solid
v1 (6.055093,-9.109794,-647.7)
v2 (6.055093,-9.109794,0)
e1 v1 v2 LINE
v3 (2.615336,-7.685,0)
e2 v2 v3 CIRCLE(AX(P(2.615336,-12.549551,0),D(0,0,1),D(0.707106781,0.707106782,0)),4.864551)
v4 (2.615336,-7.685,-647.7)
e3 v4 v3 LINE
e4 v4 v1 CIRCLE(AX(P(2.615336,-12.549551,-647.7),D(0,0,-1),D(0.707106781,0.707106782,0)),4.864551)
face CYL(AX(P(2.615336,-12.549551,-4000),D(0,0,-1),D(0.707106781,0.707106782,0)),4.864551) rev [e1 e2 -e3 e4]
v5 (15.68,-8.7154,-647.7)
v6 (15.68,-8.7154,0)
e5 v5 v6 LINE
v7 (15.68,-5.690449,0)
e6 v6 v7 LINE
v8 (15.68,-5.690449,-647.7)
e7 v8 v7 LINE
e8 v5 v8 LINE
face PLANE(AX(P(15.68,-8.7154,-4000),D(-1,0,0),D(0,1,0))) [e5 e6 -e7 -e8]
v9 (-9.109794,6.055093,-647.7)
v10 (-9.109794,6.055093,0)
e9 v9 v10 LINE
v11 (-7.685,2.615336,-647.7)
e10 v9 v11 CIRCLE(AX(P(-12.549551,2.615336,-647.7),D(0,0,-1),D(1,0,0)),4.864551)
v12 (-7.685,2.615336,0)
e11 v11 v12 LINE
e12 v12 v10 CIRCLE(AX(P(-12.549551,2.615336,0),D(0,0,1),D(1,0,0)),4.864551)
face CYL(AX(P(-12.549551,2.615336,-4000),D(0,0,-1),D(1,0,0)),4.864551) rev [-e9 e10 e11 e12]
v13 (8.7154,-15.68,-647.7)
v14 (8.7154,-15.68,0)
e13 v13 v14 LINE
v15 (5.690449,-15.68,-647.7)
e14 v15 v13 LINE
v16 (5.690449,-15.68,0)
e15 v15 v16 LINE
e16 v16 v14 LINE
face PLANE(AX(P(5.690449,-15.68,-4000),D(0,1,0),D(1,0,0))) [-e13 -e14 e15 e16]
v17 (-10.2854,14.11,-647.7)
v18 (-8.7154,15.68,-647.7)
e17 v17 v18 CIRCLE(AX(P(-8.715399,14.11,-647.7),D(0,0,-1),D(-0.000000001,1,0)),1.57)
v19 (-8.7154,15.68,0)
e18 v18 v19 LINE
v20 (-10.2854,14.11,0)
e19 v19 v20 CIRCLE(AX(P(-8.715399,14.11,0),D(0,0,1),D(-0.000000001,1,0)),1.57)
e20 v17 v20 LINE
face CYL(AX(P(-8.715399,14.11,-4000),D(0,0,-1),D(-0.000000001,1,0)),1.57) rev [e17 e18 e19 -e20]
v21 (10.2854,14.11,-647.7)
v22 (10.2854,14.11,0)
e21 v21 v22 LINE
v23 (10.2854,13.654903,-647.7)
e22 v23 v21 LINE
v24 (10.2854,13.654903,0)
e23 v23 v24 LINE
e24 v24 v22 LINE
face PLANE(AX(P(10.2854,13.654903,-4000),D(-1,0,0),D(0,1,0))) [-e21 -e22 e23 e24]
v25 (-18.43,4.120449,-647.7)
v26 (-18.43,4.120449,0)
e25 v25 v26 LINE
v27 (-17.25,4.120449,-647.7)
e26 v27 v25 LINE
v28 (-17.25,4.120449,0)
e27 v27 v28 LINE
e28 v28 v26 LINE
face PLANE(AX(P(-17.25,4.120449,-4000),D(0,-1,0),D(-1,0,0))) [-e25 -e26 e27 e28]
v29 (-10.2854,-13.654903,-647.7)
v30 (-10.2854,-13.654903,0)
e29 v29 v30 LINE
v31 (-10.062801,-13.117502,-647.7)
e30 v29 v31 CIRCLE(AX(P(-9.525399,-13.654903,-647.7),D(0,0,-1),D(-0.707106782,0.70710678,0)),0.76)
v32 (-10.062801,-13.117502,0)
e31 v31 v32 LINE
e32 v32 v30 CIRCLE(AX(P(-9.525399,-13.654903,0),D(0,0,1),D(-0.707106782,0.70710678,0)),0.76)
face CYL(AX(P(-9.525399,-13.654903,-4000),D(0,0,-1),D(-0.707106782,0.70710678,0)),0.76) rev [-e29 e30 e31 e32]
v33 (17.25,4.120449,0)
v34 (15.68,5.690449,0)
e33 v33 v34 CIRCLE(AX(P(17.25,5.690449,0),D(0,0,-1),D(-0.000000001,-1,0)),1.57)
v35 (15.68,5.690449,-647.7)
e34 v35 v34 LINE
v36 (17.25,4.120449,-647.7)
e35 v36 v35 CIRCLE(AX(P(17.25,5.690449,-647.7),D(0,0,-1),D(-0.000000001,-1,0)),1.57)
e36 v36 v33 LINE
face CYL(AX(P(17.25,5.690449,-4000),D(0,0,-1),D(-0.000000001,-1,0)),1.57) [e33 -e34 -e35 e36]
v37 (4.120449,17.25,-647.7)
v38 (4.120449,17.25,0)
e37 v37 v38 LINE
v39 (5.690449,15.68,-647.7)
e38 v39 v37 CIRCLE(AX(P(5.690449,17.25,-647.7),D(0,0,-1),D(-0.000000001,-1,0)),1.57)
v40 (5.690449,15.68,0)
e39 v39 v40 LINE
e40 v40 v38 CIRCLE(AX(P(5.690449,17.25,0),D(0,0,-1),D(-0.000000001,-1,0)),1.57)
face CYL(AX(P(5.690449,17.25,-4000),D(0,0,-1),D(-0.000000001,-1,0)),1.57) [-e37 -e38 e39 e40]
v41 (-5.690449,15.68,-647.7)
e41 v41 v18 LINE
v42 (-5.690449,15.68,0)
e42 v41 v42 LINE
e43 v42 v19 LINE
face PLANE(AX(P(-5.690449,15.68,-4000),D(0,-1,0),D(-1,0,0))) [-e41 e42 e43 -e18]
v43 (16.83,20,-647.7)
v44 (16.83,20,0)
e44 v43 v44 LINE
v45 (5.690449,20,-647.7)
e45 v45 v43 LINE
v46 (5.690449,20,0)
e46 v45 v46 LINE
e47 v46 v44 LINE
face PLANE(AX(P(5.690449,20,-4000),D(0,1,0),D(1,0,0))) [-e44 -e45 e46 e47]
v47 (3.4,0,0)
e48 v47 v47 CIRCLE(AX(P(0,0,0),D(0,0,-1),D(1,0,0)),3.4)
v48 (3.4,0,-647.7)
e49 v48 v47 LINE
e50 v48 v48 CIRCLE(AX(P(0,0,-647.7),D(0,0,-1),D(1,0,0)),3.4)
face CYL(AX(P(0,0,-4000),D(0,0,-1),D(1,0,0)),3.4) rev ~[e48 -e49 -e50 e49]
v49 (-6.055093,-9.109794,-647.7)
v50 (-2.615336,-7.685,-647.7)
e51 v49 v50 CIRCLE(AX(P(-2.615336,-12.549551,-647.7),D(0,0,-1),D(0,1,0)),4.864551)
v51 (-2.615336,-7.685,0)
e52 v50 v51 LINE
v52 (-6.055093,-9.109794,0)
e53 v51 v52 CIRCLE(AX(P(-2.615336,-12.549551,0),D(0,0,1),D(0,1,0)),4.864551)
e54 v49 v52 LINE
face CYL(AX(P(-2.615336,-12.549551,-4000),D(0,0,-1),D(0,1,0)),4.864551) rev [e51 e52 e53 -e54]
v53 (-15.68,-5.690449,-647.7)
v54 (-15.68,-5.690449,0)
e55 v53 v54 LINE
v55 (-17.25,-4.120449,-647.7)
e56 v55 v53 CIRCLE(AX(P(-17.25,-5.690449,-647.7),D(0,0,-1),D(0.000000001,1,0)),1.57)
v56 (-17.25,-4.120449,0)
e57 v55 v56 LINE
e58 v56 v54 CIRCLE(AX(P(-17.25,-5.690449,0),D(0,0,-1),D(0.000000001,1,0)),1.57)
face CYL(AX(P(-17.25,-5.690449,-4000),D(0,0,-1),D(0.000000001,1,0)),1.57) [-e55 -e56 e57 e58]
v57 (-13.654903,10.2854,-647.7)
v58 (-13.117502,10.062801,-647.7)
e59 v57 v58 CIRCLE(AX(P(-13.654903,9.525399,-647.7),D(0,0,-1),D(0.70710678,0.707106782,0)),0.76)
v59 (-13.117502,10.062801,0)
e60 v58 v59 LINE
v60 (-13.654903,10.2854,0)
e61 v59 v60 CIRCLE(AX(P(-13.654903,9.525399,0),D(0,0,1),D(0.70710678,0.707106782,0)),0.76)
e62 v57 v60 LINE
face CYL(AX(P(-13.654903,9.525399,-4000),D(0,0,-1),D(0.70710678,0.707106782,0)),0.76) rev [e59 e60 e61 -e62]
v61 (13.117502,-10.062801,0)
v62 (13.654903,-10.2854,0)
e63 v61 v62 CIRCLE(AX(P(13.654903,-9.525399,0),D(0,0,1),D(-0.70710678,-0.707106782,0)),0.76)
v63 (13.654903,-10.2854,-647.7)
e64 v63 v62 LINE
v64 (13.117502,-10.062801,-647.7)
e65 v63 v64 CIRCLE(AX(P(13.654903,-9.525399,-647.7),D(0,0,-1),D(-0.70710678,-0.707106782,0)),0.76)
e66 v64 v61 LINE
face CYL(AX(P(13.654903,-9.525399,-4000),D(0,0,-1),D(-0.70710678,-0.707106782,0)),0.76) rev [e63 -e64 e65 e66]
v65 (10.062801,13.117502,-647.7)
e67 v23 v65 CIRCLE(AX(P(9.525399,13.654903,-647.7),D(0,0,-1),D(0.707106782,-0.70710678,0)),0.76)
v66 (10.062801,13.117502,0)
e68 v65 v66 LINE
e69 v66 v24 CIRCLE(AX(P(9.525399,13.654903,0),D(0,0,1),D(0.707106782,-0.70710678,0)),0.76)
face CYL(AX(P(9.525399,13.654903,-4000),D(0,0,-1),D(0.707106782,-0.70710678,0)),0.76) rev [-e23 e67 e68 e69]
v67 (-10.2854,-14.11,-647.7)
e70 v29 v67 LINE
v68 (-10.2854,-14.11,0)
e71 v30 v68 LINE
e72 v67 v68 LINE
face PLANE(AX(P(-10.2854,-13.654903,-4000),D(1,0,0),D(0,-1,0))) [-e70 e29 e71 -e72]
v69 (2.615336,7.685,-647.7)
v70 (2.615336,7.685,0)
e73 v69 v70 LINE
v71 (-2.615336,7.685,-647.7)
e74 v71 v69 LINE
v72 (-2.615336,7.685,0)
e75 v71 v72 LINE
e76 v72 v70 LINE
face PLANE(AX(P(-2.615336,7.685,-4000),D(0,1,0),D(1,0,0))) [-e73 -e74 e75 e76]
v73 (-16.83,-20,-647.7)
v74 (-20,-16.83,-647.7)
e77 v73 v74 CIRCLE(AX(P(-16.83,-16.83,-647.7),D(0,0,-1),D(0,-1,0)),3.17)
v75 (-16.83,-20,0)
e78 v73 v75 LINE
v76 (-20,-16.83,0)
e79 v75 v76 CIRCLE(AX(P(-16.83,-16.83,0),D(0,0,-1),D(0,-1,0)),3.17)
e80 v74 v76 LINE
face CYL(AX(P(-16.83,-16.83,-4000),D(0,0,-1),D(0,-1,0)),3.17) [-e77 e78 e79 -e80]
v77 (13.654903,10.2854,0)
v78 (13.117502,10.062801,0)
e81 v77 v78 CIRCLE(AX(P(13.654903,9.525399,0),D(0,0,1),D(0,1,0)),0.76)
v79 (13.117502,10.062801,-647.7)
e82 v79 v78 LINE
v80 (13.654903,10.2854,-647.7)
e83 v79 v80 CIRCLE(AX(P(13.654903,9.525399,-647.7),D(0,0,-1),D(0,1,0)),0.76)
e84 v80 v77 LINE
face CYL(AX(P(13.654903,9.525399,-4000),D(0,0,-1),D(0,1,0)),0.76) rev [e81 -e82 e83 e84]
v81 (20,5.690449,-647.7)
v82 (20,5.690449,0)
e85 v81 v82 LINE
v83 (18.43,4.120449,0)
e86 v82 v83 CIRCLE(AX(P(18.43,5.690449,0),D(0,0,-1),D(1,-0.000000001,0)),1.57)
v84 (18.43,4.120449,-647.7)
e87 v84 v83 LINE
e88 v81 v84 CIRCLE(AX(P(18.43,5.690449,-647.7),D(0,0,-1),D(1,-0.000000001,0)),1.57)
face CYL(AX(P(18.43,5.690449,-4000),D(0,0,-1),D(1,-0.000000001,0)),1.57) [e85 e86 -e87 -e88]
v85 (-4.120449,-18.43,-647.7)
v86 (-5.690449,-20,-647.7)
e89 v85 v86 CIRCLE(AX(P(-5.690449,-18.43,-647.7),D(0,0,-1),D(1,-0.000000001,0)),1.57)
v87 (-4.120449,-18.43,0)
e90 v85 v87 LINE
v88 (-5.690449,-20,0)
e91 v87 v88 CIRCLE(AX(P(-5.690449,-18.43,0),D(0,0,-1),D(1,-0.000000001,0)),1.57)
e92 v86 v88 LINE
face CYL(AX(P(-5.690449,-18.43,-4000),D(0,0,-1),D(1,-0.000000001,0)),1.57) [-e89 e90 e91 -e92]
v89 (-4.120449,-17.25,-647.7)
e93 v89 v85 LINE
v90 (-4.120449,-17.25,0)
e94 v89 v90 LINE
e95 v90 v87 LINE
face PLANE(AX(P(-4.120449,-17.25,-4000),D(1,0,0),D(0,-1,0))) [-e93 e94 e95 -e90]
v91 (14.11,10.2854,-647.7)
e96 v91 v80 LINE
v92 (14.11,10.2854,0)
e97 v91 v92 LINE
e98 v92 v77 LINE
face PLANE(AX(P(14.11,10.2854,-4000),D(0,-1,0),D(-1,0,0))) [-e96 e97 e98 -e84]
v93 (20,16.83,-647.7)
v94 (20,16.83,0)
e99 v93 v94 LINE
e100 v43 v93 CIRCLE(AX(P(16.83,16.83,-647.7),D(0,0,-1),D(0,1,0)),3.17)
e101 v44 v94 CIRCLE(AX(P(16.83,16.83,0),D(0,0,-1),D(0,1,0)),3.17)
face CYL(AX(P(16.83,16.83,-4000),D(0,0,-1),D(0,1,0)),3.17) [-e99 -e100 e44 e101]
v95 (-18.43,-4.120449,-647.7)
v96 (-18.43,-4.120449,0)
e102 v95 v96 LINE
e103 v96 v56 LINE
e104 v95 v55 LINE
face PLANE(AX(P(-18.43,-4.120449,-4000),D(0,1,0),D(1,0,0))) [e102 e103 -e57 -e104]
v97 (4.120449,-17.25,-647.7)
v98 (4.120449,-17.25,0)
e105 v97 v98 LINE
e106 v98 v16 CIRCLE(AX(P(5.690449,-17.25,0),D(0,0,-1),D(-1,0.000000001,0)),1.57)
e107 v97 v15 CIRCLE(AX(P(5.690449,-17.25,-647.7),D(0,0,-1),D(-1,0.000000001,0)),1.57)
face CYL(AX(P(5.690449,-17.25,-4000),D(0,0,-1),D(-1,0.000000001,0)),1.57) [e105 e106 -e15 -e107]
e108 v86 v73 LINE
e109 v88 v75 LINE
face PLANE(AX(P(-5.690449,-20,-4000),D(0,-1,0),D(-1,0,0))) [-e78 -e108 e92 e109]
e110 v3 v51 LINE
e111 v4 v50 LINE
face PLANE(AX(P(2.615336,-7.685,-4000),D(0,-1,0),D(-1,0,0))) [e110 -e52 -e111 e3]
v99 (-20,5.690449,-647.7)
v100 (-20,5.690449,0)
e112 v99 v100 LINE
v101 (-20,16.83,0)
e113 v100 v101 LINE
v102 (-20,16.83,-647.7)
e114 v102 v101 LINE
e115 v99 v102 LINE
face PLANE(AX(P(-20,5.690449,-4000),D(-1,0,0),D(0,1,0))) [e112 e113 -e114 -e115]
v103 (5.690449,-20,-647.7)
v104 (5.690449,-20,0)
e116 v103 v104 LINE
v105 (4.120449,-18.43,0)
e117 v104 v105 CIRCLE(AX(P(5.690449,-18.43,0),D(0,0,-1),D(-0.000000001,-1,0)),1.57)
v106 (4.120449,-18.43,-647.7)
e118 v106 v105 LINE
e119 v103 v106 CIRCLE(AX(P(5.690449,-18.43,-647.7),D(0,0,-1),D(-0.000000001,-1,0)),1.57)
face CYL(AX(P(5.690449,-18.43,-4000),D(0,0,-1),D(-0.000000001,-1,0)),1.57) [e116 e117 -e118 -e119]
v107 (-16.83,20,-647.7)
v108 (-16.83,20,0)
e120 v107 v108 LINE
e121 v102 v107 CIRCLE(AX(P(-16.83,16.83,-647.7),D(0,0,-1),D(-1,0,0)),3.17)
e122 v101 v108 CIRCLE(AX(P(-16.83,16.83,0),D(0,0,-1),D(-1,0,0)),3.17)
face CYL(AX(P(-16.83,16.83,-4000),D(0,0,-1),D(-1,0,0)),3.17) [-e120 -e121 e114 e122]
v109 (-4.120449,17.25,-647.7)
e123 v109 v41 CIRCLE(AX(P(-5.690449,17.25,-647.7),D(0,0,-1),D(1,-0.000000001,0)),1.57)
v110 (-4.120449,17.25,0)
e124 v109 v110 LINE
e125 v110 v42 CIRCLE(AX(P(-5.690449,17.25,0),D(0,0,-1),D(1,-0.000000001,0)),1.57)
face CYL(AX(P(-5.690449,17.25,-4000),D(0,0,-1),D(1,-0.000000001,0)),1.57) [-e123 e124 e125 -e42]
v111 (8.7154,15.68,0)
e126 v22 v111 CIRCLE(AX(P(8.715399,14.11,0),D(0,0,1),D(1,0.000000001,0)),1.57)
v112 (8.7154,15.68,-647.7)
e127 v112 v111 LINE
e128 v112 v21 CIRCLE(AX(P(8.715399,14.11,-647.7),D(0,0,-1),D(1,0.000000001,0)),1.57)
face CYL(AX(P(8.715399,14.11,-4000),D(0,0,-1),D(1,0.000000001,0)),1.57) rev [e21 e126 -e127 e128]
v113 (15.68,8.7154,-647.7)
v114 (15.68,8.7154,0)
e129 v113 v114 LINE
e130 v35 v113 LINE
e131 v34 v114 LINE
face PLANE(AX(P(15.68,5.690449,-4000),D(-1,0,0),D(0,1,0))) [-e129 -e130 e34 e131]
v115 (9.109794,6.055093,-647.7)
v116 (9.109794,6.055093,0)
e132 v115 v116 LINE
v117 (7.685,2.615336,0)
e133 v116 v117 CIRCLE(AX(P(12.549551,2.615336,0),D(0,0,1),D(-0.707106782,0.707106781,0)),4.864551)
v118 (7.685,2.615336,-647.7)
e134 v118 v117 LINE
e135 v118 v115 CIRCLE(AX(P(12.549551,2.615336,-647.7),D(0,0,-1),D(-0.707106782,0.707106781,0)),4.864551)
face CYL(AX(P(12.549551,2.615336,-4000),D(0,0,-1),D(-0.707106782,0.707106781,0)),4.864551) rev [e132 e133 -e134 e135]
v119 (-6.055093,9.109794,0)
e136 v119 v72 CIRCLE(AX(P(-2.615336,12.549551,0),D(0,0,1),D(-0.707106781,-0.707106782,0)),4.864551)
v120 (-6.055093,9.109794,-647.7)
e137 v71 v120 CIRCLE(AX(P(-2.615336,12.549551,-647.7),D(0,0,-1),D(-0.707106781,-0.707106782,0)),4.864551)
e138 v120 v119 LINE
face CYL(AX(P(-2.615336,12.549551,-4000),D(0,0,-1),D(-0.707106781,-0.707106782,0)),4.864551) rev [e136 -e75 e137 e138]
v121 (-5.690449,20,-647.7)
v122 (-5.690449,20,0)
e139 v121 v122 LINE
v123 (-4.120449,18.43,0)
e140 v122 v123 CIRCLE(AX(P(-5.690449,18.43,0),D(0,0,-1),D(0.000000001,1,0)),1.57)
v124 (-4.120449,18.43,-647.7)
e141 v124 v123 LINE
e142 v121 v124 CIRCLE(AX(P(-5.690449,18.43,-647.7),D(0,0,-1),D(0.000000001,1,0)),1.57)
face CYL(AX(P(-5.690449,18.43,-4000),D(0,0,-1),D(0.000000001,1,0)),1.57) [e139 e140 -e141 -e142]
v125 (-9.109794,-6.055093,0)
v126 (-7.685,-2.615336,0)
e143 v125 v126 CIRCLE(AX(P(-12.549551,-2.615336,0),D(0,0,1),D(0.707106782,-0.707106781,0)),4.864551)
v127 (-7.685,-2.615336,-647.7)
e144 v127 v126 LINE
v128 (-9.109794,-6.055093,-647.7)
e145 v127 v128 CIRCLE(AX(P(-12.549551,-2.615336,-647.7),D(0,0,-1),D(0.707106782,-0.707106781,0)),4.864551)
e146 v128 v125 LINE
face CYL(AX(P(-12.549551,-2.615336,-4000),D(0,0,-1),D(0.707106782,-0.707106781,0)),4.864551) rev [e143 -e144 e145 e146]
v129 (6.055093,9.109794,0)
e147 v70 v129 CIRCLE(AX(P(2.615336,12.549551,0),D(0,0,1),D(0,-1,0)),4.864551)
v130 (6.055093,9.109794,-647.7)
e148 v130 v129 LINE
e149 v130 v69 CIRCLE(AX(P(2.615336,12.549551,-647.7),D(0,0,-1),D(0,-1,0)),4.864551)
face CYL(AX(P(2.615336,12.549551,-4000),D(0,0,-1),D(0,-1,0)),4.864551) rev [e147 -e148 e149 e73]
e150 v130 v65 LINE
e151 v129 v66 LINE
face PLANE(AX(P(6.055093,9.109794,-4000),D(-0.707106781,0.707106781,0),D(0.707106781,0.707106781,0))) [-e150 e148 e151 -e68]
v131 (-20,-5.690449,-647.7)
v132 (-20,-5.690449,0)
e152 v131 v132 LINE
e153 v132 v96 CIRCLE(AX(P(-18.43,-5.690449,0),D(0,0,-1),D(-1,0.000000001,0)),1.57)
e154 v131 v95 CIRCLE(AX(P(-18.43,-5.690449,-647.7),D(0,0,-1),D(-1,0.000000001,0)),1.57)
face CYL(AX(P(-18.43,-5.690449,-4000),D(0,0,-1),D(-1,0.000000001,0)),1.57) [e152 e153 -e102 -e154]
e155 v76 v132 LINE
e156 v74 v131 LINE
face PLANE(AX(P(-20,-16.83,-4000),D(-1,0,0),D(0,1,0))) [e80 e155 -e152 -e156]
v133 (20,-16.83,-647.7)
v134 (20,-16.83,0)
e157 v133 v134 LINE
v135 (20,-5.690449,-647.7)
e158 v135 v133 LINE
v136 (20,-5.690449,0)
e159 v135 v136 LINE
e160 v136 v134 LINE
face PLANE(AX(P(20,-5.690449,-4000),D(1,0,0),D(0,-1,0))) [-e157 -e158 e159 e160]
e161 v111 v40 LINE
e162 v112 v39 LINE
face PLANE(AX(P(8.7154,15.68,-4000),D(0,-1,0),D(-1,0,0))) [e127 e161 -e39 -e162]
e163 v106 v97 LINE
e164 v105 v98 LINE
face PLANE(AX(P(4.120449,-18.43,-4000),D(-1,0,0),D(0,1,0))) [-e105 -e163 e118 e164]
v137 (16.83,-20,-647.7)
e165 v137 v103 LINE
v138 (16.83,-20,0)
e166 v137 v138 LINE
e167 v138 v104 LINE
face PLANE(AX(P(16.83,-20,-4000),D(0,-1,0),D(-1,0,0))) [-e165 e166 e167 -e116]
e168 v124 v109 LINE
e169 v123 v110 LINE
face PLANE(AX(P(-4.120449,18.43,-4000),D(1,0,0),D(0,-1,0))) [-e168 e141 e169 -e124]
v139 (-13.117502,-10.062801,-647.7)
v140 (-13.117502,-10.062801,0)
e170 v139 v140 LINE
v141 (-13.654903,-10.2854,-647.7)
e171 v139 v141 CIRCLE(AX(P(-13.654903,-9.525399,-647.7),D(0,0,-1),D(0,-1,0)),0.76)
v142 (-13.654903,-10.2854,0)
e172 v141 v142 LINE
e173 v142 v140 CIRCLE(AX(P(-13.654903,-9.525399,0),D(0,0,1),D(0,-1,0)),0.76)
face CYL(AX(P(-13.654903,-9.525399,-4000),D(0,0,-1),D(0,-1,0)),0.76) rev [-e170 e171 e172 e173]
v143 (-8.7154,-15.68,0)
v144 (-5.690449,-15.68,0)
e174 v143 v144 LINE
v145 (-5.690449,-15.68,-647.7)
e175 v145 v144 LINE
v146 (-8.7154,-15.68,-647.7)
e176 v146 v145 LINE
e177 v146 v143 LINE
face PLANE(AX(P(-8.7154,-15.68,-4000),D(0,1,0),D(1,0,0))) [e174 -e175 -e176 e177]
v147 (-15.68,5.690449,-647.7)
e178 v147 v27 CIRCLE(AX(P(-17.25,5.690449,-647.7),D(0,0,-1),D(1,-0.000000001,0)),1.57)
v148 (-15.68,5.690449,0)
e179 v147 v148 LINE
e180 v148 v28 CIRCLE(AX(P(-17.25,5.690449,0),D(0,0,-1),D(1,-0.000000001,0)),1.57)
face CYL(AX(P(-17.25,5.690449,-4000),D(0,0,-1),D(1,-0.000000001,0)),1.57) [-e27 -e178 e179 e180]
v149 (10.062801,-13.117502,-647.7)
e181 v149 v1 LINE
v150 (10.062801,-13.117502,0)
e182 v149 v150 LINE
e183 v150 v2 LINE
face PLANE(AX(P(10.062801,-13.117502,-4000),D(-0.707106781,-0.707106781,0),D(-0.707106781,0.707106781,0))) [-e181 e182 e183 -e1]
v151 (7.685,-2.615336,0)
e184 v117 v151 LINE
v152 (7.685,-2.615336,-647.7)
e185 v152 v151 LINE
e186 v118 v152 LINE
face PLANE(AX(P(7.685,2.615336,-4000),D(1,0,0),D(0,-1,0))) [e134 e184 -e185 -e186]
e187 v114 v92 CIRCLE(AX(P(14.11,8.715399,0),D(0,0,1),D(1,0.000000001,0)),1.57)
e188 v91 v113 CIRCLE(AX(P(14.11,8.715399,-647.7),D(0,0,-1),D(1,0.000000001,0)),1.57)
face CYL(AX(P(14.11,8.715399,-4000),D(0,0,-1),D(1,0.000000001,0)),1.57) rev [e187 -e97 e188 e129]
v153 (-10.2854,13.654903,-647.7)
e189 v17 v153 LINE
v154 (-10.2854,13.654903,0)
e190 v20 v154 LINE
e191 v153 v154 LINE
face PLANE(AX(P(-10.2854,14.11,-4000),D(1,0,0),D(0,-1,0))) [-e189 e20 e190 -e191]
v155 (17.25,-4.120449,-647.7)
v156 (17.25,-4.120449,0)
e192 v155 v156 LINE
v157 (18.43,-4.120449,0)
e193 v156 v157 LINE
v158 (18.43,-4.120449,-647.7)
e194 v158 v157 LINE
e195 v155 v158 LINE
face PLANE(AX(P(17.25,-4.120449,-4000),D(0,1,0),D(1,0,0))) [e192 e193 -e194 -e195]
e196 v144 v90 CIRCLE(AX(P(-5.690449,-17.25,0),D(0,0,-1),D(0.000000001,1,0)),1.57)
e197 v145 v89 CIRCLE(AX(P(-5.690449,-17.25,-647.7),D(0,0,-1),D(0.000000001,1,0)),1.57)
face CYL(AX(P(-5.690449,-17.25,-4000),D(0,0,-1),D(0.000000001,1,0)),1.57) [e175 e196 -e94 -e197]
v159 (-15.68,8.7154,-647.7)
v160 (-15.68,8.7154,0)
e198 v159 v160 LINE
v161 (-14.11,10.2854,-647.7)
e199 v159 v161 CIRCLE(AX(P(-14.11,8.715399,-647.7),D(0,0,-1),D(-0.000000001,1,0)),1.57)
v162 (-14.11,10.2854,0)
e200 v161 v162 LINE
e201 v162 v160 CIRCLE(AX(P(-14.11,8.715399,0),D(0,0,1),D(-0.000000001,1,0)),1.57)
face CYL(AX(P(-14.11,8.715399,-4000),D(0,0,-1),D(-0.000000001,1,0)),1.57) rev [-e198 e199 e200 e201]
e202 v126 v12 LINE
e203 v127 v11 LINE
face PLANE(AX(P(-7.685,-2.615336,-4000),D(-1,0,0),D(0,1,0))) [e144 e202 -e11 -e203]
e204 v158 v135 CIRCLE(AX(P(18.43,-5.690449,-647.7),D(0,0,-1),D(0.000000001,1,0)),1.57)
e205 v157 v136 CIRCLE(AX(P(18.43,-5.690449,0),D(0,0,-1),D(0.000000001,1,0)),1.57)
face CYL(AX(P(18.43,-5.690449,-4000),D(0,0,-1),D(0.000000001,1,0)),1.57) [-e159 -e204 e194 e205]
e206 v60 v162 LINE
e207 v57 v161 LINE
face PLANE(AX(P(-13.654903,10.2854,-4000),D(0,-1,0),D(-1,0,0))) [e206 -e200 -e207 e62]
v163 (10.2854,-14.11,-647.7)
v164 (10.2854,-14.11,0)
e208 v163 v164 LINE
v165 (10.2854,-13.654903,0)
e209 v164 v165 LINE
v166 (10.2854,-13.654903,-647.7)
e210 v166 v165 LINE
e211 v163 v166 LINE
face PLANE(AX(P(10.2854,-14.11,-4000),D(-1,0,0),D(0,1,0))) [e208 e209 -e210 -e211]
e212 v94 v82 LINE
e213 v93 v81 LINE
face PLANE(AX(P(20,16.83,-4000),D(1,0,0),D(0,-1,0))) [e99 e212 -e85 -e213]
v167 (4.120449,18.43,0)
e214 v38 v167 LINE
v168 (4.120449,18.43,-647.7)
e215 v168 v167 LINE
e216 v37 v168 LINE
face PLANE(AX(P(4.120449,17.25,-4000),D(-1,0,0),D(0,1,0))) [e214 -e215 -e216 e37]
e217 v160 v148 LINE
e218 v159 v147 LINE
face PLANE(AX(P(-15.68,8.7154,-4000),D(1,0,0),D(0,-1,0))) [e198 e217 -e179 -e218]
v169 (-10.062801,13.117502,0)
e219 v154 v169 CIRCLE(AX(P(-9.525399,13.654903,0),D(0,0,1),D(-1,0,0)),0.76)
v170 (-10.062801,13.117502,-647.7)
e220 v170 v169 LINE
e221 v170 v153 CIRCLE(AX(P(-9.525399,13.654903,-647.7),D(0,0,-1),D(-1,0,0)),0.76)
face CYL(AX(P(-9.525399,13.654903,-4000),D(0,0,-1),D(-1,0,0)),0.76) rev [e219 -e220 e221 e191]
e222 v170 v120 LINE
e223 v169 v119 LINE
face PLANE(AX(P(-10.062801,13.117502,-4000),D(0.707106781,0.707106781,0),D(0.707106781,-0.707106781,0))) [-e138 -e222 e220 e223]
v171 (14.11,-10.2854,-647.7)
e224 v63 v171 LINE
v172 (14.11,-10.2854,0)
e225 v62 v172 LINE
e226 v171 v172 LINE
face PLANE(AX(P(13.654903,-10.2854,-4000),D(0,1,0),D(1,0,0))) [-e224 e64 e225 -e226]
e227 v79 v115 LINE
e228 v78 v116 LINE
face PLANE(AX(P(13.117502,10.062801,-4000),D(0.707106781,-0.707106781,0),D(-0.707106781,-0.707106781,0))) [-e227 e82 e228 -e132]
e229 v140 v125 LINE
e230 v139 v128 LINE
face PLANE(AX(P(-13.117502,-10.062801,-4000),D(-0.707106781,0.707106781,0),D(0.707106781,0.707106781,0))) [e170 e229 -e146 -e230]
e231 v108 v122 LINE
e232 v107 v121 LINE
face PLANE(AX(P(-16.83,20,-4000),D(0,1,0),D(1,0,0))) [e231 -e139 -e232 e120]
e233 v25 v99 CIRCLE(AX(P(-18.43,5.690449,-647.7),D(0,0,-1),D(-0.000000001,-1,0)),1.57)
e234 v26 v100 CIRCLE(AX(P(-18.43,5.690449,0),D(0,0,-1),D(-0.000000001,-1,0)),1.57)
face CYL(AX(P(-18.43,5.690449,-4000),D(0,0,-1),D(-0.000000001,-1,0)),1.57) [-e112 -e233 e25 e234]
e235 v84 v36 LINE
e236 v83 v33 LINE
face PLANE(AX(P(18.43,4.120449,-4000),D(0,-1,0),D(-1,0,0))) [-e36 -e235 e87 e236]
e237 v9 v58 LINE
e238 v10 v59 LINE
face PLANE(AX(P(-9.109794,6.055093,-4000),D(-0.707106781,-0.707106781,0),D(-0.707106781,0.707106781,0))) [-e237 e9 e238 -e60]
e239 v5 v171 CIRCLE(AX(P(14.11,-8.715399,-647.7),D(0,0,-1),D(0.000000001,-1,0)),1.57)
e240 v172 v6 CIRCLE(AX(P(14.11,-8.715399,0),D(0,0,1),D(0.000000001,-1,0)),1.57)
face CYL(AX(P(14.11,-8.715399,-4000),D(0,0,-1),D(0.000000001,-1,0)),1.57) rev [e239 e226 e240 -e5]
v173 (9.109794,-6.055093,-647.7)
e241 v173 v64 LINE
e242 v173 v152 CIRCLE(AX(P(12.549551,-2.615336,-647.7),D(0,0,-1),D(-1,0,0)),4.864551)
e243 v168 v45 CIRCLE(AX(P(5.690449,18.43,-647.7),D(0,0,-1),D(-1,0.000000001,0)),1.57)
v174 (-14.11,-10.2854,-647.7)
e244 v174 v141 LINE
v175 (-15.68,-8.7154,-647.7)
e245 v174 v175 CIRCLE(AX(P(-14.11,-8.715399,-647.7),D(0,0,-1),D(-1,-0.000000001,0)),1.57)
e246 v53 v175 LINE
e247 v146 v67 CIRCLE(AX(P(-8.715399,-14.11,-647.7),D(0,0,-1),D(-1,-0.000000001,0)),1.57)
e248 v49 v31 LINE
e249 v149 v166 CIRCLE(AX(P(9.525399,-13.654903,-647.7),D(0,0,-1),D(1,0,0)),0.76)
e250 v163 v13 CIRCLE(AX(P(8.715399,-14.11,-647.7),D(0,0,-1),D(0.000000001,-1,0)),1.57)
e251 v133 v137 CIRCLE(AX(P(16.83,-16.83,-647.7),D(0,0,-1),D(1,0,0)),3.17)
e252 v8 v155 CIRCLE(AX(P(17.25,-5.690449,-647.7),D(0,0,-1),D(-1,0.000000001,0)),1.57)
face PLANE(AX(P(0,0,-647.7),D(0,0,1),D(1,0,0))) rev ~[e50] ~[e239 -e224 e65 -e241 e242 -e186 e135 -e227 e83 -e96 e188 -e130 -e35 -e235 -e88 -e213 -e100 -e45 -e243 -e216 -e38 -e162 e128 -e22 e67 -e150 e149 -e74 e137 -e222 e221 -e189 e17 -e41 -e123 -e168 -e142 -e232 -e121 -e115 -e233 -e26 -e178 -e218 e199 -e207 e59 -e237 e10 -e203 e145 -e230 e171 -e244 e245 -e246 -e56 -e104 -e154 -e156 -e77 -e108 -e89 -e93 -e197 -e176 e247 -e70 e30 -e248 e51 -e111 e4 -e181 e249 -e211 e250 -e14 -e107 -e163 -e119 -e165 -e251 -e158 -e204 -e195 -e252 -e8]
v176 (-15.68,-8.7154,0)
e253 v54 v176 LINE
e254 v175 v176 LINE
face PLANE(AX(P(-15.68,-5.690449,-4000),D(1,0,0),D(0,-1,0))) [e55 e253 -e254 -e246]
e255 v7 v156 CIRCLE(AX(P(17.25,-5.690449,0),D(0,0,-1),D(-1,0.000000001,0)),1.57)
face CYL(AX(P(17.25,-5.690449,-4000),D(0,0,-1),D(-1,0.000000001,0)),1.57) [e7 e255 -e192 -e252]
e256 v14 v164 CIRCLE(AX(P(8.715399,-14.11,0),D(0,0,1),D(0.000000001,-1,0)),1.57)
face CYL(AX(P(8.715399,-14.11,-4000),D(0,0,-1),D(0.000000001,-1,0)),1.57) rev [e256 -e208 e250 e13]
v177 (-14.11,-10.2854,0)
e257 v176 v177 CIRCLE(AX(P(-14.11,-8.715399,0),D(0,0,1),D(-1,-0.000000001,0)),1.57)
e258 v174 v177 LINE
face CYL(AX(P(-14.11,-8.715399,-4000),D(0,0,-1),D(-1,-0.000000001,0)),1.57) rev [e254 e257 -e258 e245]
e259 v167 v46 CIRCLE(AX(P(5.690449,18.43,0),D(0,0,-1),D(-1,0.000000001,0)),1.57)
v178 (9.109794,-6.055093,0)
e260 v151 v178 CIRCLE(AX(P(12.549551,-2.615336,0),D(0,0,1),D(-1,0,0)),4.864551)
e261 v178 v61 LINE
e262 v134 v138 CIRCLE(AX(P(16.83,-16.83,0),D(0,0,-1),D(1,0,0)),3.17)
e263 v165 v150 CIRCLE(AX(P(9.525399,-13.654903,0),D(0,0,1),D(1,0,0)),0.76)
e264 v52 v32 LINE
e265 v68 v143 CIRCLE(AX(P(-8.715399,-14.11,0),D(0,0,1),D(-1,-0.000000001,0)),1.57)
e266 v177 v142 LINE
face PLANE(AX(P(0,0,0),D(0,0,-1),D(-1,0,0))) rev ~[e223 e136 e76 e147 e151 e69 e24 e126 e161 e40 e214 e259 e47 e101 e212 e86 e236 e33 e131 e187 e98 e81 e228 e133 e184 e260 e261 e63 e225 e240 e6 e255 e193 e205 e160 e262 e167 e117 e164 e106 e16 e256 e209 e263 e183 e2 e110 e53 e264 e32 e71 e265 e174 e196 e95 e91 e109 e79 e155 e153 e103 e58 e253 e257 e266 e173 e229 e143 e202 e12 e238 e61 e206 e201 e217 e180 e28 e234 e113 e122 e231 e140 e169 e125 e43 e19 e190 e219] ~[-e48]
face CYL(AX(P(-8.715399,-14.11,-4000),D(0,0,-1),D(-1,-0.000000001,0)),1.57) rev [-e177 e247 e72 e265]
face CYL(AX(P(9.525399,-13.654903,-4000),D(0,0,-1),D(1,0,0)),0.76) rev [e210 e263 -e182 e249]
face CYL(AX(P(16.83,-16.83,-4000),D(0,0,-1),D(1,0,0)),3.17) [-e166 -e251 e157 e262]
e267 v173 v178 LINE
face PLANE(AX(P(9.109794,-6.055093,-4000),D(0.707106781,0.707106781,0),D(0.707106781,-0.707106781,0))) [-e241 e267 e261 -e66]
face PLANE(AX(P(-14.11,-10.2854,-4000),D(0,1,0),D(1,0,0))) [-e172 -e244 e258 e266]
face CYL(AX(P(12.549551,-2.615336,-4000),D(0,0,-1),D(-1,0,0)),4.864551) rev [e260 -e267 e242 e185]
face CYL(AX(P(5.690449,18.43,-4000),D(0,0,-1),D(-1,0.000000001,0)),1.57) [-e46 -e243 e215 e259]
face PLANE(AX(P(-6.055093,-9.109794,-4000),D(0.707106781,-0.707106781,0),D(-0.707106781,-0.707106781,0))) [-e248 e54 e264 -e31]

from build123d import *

# Parameters (mm, degrees)
SKETCH1_R           = 3.4
BOSS_EXTRUDE1_DEPTH = 4000
SKETCH2_W           = 240.449275058
SKETCH2_H           = 182.715753948
CUT_EXTRUDE1_DEPTH  = 3353.41931894


with BuildPart() as part:
    # Sketch1 → Boss-Extrude1 (new body)
    with BuildSketch(Plane(origin=(0, 0, -4000), x_dir=(-1, 0, 0), z_dir=(0, 0, -1))):
        with BuildLine():
            Line((16.83, 20), (5.69044933, 20))
            ThreePointArc((5.69044933, 20), (4.580291684, 19.540157646), (4.12044933, 18.43))
            Line((4.12044933, 18.43), (4.12044933, 17.25))
            ThreePointArc((4.12044933, 17.25), (4.580291684, 16.139842354), (5.69044933, 15.68))
            Line((5.69044933, 15.68), (8.7153995, 15.68))
            ThreePointArc((8.7153995, 15.68), (9.825557146, 15.220157646), (10.2853995, 14.11))
            Line((10.2853995, 14.11), (10.2853995, 13.654903102))
            ThreePointArc((10.2853995, 13.654903102), (10.227547945, 13.364063694), (10.062800654, 13.117501948))
            Line((10.062800654, 13.117501948), (6.055092794, 9.109794088))
            ThreePointArc((6.055092794, 9.109794088), (4.47691877, 8.055291919), (2.615335582, 7.685))
            Line((2.615335582, 7.685), (-2.615335582, 7.685))
            ThreePointArc((-2.615335582, 7.685), (-4.47691877, 8.055291919), (-6.055092794, 9.109794088))
            Line((-6.055092794, 9.109794088), (-10.062800654, 13.117501948))
            ThreePointArc((-10.062800654, 13.117501948), (-10.227547945, 13.364063694), (-10.2853995, 13.654903102))
            Line((-10.2853995, 13.654903102), (-10.2853995, 14.11))
            ThreePointArc((-10.2853995, 14.11), (-9.825557146, 15.220157646), (-8.7153995, 15.68))
            Line((-8.7153995, 15.68), (-5.69044933, 15.68))
            ThreePointArc((-5.69044933, 15.68), (-4.580291684, 16.139842354), (-4.12044933, 17.25))
            Line((-4.12044933, 17.25), (-4.12044933, 18.43))
            ThreePointArc((-4.12044933, 18.43), (-4.580291684, 19.540157646), (-5.69044933, 20))
            Line((-5.69044933, 20), (-16.83, 20))
            ThreePointArc((-16.83, 20), (-19.071528496, 19.071528496), (-20, 16.83))
            Line((-20, 16.83), (-20, 5.69044933))
            ThreePointArc((-20, 5.69044933), (-19.540157646, 4.580291684), (-18.43, 4.12044933))
            Line((-18.43, 4.12044933), (-17.25, 4.12044933))
            ThreePointArc((-17.25, 4.12044933), (-16.139842354, 4.580291684), (-15.68, 5.69044933))
            Line((-15.68, 5.69044933), (-15.68, 8.7153995))
            ThreePointArc((-15.68, 8.7153995), (-15.220157646, 9.825557146), (-14.11, 10.2853995))
            Line((-14.11, 10.2853995), (-13.654903102, 10.2853995))
            ThreePointArc((-13.654903102, 10.2853995), (-13.364063694, 10.227547945), (-13.117501948, 10.062800654))
            Line((-13.117501948, 10.062800654), (-9.109794088, 6.055092794))
            ThreePointArc((-9.109794088, 6.055092794), (-8.055291919, 4.47691877), (-7.685, 2.615335582))
            Line((-7.685, 2.615335582), (-7.685, -2.615335582))
            ThreePointArc((-7.685, -2.615335582), (-8.055291919, -4.47691877), (-9.109794088, -6.055092794))
            Line((-9.109794088, -6.055092794), (-13.117501948, -10.062800654))
            ThreePointArc((-13.117501948, -10.062800654), (-13.364063694, -10.227547945), (-13.654903102, -10.2853995))
            Line((-13.654903102, -10.2853995), (-14.11, -10.2853995))
            ThreePointArc((-14.11, -10.2853995), (-15.220157646, -9.825557146), (-15.68, -8.7153995))
            Line((-15.68, -8.7153995), (-15.68, -5.69044933))
            ThreePointArc((-15.68, -5.69044933), (-16.139842354, -4.580291684), (-17.25, -4.12044933))
            Line((-17.25, -4.12044933), (-18.43, -4.12044933))
            ThreePointArc((-18.43, -4.12044933), (-19.540157646, -4.580291684), (-20, -5.69044933))
            Line((-20, -5.69044933), (-20, -16.83))
            ThreePointArc((-20, -16.83), (-19.071528496, -19.071528496), (-16.83, -20))
            Line((-16.83, -20), (-5.69044933, -20))
            ThreePointArc((-5.69044933, -20), (-4.580291684, -19.540157646), (-4.12044933, -18.43))
            Line((-4.12044933, -18.43), (-4.12044933, -17.25))
            ThreePointArc((-4.12044933, -17.25), (-4.580291684, -16.139842354), (-5.69044933, -15.68))
            Line((-5.69044933, -15.68), (-8.7153995, -15.68))
            ThreePointArc((-8.7153995, -15.68), (-9.825557146, -15.220157646), (-10.2853995, -14.11))
            Line((-10.2853995, -14.11), (-10.2853995, -13.654903102))
            ThreePointArc((-10.2853995, -13.654903102), (-10.227547945, -13.364063694), (-10.062800654, -13.117501948))
            Line((-10.062800654, -13.117501948), (-6.055092794, -9.109794088))
            ThreePointArc((-6.055092794, -9.109794088), (-4.47691877, -8.055291919), (-2.615335582, -7.685))
            Line((-2.615335582, -7.685), (2.615335582, -7.685))
            ThreePointArc((2.615335582, -7.685), (4.47691877, -8.055291919), (6.055092794, -9.109794088))
            Line((6.055092794, -9.109794088), (10.062800654, -13.117501948))
            ThreePointArc((10.062800654, -13.117501948), (10.227547945, -13.364063694), (10.2853995, -13.654903102))
            Line((10.2853995, -13.654903102), (10.2853995, -14.11))
            ThreePointArc((10.2853995, -14.11), (9.825557146, -15.220157646), (8.7153995, -15.68))
            Line((8.7153995, -15.68), (5.69044933, -15.68))
            ThreePointArc((5.69044933, -15.68), (4.580291684, -16.139842354), (4.12044933, -17.25))
            Line((4.12044933, -17.25), (4.12044933, -18.43))
            ThreePointArc((4.12044933, -18.43), (4.580291684, -19.540157646), (5.69044933, -20))
            Line((5.69044933, -20), (16.83, -20))
            ThreePointArc((16.83, -20), (19.071528496, -19.071528496), (20, -16.83))
            Line((20, -16.83), (20, -5.69044933))
            ThreePointArc((20, -5.69044933), (19.540157646, -4.580291684), (18.43, -4.12044933))
            Line((18.43, -4.12044933), (17.25, -4.12044933))
            ThreePointArc((17.25, -4.12044933), (16.139842354, -4.580291684), (15.68, -5.69044933))
            Line((15.68, -5.69044933), (15.68, -8.7153995))
            ThreePointArc((15.68, -8.7153995), (15.220157646, -9.825557146), (14.11, -10.2853995))
            Line((14.11, -10.2853995), (13.654903102, -10.2853995))
            ThreePointArc((13.654903102, -10.2853995), (13.364063694, -10.227547945), (13.117501948, -10.062800654))
            Line((13.117501948, -10.062800654), (9.109794088, -6.055092794))
            ThreePointArc((9.109794088, -6.055092794), (8.055291919, -4.47691877), (7.685, -2.615335582))
            Line((7.685, -2.615335582), (7.685, 2.615335582))
            ThreePointArc((7.685, 2.615335582), (8.055291919, 4.47691877), (9.109794088, 6.055092794))
            Line((9.109794088, 6.055092794), (13.117501948, 10.062800654))
            ThreePointArc((13.117501948, 10.062800654), (13.364063694, 10.227547945), (13.654903102, 10.2853995))
            Line((13.654903102, 10.2853995), (14.11, 10.2853995))
            ThreePointArc((14.11, 10.2853995), (15.220157646, 9.825557146), (15.68, 8.7153995))
            Line((15.68, 8.7153995), (15.68, 5.69044933))
            ThreePointArc((15.68, 5.69044933), (16.139842354, 4.580291684), (17.25, 4.12044933))
            Line((17.25, 4.12044933), (18.43, 4.12044933))
            ThreePointArc((18.43, 4.12044933), (19.540157646, 4.580291684), (20, 5.69044933))
            Line((20, 5.69044933), (20, 16.83))
            ThreePointArc((20, 16.83), (19.071528496, 19.071528496), (16.83, 20))
        make_face()
        with Locations(Location((0, 0, 0), (0, 0, 180))):
            Circle(SKETCH1_R, mode=Mode.SUBTRACT)
    extrude(amount=-BOSS_EXTRUDE1_DEPTH)

    # Sketch2 → Cut-Extrude1 (cut, through all)
    with BuildSketch(Plane.XY.offset(-647.7)):
        Rectangle(SKETCH2_W, SKETCH2_H)
    extrude(amount=-CUT_EXTRUDE1_DEPTH, mode=Mode.SUBTRACT)


solid = part.part
